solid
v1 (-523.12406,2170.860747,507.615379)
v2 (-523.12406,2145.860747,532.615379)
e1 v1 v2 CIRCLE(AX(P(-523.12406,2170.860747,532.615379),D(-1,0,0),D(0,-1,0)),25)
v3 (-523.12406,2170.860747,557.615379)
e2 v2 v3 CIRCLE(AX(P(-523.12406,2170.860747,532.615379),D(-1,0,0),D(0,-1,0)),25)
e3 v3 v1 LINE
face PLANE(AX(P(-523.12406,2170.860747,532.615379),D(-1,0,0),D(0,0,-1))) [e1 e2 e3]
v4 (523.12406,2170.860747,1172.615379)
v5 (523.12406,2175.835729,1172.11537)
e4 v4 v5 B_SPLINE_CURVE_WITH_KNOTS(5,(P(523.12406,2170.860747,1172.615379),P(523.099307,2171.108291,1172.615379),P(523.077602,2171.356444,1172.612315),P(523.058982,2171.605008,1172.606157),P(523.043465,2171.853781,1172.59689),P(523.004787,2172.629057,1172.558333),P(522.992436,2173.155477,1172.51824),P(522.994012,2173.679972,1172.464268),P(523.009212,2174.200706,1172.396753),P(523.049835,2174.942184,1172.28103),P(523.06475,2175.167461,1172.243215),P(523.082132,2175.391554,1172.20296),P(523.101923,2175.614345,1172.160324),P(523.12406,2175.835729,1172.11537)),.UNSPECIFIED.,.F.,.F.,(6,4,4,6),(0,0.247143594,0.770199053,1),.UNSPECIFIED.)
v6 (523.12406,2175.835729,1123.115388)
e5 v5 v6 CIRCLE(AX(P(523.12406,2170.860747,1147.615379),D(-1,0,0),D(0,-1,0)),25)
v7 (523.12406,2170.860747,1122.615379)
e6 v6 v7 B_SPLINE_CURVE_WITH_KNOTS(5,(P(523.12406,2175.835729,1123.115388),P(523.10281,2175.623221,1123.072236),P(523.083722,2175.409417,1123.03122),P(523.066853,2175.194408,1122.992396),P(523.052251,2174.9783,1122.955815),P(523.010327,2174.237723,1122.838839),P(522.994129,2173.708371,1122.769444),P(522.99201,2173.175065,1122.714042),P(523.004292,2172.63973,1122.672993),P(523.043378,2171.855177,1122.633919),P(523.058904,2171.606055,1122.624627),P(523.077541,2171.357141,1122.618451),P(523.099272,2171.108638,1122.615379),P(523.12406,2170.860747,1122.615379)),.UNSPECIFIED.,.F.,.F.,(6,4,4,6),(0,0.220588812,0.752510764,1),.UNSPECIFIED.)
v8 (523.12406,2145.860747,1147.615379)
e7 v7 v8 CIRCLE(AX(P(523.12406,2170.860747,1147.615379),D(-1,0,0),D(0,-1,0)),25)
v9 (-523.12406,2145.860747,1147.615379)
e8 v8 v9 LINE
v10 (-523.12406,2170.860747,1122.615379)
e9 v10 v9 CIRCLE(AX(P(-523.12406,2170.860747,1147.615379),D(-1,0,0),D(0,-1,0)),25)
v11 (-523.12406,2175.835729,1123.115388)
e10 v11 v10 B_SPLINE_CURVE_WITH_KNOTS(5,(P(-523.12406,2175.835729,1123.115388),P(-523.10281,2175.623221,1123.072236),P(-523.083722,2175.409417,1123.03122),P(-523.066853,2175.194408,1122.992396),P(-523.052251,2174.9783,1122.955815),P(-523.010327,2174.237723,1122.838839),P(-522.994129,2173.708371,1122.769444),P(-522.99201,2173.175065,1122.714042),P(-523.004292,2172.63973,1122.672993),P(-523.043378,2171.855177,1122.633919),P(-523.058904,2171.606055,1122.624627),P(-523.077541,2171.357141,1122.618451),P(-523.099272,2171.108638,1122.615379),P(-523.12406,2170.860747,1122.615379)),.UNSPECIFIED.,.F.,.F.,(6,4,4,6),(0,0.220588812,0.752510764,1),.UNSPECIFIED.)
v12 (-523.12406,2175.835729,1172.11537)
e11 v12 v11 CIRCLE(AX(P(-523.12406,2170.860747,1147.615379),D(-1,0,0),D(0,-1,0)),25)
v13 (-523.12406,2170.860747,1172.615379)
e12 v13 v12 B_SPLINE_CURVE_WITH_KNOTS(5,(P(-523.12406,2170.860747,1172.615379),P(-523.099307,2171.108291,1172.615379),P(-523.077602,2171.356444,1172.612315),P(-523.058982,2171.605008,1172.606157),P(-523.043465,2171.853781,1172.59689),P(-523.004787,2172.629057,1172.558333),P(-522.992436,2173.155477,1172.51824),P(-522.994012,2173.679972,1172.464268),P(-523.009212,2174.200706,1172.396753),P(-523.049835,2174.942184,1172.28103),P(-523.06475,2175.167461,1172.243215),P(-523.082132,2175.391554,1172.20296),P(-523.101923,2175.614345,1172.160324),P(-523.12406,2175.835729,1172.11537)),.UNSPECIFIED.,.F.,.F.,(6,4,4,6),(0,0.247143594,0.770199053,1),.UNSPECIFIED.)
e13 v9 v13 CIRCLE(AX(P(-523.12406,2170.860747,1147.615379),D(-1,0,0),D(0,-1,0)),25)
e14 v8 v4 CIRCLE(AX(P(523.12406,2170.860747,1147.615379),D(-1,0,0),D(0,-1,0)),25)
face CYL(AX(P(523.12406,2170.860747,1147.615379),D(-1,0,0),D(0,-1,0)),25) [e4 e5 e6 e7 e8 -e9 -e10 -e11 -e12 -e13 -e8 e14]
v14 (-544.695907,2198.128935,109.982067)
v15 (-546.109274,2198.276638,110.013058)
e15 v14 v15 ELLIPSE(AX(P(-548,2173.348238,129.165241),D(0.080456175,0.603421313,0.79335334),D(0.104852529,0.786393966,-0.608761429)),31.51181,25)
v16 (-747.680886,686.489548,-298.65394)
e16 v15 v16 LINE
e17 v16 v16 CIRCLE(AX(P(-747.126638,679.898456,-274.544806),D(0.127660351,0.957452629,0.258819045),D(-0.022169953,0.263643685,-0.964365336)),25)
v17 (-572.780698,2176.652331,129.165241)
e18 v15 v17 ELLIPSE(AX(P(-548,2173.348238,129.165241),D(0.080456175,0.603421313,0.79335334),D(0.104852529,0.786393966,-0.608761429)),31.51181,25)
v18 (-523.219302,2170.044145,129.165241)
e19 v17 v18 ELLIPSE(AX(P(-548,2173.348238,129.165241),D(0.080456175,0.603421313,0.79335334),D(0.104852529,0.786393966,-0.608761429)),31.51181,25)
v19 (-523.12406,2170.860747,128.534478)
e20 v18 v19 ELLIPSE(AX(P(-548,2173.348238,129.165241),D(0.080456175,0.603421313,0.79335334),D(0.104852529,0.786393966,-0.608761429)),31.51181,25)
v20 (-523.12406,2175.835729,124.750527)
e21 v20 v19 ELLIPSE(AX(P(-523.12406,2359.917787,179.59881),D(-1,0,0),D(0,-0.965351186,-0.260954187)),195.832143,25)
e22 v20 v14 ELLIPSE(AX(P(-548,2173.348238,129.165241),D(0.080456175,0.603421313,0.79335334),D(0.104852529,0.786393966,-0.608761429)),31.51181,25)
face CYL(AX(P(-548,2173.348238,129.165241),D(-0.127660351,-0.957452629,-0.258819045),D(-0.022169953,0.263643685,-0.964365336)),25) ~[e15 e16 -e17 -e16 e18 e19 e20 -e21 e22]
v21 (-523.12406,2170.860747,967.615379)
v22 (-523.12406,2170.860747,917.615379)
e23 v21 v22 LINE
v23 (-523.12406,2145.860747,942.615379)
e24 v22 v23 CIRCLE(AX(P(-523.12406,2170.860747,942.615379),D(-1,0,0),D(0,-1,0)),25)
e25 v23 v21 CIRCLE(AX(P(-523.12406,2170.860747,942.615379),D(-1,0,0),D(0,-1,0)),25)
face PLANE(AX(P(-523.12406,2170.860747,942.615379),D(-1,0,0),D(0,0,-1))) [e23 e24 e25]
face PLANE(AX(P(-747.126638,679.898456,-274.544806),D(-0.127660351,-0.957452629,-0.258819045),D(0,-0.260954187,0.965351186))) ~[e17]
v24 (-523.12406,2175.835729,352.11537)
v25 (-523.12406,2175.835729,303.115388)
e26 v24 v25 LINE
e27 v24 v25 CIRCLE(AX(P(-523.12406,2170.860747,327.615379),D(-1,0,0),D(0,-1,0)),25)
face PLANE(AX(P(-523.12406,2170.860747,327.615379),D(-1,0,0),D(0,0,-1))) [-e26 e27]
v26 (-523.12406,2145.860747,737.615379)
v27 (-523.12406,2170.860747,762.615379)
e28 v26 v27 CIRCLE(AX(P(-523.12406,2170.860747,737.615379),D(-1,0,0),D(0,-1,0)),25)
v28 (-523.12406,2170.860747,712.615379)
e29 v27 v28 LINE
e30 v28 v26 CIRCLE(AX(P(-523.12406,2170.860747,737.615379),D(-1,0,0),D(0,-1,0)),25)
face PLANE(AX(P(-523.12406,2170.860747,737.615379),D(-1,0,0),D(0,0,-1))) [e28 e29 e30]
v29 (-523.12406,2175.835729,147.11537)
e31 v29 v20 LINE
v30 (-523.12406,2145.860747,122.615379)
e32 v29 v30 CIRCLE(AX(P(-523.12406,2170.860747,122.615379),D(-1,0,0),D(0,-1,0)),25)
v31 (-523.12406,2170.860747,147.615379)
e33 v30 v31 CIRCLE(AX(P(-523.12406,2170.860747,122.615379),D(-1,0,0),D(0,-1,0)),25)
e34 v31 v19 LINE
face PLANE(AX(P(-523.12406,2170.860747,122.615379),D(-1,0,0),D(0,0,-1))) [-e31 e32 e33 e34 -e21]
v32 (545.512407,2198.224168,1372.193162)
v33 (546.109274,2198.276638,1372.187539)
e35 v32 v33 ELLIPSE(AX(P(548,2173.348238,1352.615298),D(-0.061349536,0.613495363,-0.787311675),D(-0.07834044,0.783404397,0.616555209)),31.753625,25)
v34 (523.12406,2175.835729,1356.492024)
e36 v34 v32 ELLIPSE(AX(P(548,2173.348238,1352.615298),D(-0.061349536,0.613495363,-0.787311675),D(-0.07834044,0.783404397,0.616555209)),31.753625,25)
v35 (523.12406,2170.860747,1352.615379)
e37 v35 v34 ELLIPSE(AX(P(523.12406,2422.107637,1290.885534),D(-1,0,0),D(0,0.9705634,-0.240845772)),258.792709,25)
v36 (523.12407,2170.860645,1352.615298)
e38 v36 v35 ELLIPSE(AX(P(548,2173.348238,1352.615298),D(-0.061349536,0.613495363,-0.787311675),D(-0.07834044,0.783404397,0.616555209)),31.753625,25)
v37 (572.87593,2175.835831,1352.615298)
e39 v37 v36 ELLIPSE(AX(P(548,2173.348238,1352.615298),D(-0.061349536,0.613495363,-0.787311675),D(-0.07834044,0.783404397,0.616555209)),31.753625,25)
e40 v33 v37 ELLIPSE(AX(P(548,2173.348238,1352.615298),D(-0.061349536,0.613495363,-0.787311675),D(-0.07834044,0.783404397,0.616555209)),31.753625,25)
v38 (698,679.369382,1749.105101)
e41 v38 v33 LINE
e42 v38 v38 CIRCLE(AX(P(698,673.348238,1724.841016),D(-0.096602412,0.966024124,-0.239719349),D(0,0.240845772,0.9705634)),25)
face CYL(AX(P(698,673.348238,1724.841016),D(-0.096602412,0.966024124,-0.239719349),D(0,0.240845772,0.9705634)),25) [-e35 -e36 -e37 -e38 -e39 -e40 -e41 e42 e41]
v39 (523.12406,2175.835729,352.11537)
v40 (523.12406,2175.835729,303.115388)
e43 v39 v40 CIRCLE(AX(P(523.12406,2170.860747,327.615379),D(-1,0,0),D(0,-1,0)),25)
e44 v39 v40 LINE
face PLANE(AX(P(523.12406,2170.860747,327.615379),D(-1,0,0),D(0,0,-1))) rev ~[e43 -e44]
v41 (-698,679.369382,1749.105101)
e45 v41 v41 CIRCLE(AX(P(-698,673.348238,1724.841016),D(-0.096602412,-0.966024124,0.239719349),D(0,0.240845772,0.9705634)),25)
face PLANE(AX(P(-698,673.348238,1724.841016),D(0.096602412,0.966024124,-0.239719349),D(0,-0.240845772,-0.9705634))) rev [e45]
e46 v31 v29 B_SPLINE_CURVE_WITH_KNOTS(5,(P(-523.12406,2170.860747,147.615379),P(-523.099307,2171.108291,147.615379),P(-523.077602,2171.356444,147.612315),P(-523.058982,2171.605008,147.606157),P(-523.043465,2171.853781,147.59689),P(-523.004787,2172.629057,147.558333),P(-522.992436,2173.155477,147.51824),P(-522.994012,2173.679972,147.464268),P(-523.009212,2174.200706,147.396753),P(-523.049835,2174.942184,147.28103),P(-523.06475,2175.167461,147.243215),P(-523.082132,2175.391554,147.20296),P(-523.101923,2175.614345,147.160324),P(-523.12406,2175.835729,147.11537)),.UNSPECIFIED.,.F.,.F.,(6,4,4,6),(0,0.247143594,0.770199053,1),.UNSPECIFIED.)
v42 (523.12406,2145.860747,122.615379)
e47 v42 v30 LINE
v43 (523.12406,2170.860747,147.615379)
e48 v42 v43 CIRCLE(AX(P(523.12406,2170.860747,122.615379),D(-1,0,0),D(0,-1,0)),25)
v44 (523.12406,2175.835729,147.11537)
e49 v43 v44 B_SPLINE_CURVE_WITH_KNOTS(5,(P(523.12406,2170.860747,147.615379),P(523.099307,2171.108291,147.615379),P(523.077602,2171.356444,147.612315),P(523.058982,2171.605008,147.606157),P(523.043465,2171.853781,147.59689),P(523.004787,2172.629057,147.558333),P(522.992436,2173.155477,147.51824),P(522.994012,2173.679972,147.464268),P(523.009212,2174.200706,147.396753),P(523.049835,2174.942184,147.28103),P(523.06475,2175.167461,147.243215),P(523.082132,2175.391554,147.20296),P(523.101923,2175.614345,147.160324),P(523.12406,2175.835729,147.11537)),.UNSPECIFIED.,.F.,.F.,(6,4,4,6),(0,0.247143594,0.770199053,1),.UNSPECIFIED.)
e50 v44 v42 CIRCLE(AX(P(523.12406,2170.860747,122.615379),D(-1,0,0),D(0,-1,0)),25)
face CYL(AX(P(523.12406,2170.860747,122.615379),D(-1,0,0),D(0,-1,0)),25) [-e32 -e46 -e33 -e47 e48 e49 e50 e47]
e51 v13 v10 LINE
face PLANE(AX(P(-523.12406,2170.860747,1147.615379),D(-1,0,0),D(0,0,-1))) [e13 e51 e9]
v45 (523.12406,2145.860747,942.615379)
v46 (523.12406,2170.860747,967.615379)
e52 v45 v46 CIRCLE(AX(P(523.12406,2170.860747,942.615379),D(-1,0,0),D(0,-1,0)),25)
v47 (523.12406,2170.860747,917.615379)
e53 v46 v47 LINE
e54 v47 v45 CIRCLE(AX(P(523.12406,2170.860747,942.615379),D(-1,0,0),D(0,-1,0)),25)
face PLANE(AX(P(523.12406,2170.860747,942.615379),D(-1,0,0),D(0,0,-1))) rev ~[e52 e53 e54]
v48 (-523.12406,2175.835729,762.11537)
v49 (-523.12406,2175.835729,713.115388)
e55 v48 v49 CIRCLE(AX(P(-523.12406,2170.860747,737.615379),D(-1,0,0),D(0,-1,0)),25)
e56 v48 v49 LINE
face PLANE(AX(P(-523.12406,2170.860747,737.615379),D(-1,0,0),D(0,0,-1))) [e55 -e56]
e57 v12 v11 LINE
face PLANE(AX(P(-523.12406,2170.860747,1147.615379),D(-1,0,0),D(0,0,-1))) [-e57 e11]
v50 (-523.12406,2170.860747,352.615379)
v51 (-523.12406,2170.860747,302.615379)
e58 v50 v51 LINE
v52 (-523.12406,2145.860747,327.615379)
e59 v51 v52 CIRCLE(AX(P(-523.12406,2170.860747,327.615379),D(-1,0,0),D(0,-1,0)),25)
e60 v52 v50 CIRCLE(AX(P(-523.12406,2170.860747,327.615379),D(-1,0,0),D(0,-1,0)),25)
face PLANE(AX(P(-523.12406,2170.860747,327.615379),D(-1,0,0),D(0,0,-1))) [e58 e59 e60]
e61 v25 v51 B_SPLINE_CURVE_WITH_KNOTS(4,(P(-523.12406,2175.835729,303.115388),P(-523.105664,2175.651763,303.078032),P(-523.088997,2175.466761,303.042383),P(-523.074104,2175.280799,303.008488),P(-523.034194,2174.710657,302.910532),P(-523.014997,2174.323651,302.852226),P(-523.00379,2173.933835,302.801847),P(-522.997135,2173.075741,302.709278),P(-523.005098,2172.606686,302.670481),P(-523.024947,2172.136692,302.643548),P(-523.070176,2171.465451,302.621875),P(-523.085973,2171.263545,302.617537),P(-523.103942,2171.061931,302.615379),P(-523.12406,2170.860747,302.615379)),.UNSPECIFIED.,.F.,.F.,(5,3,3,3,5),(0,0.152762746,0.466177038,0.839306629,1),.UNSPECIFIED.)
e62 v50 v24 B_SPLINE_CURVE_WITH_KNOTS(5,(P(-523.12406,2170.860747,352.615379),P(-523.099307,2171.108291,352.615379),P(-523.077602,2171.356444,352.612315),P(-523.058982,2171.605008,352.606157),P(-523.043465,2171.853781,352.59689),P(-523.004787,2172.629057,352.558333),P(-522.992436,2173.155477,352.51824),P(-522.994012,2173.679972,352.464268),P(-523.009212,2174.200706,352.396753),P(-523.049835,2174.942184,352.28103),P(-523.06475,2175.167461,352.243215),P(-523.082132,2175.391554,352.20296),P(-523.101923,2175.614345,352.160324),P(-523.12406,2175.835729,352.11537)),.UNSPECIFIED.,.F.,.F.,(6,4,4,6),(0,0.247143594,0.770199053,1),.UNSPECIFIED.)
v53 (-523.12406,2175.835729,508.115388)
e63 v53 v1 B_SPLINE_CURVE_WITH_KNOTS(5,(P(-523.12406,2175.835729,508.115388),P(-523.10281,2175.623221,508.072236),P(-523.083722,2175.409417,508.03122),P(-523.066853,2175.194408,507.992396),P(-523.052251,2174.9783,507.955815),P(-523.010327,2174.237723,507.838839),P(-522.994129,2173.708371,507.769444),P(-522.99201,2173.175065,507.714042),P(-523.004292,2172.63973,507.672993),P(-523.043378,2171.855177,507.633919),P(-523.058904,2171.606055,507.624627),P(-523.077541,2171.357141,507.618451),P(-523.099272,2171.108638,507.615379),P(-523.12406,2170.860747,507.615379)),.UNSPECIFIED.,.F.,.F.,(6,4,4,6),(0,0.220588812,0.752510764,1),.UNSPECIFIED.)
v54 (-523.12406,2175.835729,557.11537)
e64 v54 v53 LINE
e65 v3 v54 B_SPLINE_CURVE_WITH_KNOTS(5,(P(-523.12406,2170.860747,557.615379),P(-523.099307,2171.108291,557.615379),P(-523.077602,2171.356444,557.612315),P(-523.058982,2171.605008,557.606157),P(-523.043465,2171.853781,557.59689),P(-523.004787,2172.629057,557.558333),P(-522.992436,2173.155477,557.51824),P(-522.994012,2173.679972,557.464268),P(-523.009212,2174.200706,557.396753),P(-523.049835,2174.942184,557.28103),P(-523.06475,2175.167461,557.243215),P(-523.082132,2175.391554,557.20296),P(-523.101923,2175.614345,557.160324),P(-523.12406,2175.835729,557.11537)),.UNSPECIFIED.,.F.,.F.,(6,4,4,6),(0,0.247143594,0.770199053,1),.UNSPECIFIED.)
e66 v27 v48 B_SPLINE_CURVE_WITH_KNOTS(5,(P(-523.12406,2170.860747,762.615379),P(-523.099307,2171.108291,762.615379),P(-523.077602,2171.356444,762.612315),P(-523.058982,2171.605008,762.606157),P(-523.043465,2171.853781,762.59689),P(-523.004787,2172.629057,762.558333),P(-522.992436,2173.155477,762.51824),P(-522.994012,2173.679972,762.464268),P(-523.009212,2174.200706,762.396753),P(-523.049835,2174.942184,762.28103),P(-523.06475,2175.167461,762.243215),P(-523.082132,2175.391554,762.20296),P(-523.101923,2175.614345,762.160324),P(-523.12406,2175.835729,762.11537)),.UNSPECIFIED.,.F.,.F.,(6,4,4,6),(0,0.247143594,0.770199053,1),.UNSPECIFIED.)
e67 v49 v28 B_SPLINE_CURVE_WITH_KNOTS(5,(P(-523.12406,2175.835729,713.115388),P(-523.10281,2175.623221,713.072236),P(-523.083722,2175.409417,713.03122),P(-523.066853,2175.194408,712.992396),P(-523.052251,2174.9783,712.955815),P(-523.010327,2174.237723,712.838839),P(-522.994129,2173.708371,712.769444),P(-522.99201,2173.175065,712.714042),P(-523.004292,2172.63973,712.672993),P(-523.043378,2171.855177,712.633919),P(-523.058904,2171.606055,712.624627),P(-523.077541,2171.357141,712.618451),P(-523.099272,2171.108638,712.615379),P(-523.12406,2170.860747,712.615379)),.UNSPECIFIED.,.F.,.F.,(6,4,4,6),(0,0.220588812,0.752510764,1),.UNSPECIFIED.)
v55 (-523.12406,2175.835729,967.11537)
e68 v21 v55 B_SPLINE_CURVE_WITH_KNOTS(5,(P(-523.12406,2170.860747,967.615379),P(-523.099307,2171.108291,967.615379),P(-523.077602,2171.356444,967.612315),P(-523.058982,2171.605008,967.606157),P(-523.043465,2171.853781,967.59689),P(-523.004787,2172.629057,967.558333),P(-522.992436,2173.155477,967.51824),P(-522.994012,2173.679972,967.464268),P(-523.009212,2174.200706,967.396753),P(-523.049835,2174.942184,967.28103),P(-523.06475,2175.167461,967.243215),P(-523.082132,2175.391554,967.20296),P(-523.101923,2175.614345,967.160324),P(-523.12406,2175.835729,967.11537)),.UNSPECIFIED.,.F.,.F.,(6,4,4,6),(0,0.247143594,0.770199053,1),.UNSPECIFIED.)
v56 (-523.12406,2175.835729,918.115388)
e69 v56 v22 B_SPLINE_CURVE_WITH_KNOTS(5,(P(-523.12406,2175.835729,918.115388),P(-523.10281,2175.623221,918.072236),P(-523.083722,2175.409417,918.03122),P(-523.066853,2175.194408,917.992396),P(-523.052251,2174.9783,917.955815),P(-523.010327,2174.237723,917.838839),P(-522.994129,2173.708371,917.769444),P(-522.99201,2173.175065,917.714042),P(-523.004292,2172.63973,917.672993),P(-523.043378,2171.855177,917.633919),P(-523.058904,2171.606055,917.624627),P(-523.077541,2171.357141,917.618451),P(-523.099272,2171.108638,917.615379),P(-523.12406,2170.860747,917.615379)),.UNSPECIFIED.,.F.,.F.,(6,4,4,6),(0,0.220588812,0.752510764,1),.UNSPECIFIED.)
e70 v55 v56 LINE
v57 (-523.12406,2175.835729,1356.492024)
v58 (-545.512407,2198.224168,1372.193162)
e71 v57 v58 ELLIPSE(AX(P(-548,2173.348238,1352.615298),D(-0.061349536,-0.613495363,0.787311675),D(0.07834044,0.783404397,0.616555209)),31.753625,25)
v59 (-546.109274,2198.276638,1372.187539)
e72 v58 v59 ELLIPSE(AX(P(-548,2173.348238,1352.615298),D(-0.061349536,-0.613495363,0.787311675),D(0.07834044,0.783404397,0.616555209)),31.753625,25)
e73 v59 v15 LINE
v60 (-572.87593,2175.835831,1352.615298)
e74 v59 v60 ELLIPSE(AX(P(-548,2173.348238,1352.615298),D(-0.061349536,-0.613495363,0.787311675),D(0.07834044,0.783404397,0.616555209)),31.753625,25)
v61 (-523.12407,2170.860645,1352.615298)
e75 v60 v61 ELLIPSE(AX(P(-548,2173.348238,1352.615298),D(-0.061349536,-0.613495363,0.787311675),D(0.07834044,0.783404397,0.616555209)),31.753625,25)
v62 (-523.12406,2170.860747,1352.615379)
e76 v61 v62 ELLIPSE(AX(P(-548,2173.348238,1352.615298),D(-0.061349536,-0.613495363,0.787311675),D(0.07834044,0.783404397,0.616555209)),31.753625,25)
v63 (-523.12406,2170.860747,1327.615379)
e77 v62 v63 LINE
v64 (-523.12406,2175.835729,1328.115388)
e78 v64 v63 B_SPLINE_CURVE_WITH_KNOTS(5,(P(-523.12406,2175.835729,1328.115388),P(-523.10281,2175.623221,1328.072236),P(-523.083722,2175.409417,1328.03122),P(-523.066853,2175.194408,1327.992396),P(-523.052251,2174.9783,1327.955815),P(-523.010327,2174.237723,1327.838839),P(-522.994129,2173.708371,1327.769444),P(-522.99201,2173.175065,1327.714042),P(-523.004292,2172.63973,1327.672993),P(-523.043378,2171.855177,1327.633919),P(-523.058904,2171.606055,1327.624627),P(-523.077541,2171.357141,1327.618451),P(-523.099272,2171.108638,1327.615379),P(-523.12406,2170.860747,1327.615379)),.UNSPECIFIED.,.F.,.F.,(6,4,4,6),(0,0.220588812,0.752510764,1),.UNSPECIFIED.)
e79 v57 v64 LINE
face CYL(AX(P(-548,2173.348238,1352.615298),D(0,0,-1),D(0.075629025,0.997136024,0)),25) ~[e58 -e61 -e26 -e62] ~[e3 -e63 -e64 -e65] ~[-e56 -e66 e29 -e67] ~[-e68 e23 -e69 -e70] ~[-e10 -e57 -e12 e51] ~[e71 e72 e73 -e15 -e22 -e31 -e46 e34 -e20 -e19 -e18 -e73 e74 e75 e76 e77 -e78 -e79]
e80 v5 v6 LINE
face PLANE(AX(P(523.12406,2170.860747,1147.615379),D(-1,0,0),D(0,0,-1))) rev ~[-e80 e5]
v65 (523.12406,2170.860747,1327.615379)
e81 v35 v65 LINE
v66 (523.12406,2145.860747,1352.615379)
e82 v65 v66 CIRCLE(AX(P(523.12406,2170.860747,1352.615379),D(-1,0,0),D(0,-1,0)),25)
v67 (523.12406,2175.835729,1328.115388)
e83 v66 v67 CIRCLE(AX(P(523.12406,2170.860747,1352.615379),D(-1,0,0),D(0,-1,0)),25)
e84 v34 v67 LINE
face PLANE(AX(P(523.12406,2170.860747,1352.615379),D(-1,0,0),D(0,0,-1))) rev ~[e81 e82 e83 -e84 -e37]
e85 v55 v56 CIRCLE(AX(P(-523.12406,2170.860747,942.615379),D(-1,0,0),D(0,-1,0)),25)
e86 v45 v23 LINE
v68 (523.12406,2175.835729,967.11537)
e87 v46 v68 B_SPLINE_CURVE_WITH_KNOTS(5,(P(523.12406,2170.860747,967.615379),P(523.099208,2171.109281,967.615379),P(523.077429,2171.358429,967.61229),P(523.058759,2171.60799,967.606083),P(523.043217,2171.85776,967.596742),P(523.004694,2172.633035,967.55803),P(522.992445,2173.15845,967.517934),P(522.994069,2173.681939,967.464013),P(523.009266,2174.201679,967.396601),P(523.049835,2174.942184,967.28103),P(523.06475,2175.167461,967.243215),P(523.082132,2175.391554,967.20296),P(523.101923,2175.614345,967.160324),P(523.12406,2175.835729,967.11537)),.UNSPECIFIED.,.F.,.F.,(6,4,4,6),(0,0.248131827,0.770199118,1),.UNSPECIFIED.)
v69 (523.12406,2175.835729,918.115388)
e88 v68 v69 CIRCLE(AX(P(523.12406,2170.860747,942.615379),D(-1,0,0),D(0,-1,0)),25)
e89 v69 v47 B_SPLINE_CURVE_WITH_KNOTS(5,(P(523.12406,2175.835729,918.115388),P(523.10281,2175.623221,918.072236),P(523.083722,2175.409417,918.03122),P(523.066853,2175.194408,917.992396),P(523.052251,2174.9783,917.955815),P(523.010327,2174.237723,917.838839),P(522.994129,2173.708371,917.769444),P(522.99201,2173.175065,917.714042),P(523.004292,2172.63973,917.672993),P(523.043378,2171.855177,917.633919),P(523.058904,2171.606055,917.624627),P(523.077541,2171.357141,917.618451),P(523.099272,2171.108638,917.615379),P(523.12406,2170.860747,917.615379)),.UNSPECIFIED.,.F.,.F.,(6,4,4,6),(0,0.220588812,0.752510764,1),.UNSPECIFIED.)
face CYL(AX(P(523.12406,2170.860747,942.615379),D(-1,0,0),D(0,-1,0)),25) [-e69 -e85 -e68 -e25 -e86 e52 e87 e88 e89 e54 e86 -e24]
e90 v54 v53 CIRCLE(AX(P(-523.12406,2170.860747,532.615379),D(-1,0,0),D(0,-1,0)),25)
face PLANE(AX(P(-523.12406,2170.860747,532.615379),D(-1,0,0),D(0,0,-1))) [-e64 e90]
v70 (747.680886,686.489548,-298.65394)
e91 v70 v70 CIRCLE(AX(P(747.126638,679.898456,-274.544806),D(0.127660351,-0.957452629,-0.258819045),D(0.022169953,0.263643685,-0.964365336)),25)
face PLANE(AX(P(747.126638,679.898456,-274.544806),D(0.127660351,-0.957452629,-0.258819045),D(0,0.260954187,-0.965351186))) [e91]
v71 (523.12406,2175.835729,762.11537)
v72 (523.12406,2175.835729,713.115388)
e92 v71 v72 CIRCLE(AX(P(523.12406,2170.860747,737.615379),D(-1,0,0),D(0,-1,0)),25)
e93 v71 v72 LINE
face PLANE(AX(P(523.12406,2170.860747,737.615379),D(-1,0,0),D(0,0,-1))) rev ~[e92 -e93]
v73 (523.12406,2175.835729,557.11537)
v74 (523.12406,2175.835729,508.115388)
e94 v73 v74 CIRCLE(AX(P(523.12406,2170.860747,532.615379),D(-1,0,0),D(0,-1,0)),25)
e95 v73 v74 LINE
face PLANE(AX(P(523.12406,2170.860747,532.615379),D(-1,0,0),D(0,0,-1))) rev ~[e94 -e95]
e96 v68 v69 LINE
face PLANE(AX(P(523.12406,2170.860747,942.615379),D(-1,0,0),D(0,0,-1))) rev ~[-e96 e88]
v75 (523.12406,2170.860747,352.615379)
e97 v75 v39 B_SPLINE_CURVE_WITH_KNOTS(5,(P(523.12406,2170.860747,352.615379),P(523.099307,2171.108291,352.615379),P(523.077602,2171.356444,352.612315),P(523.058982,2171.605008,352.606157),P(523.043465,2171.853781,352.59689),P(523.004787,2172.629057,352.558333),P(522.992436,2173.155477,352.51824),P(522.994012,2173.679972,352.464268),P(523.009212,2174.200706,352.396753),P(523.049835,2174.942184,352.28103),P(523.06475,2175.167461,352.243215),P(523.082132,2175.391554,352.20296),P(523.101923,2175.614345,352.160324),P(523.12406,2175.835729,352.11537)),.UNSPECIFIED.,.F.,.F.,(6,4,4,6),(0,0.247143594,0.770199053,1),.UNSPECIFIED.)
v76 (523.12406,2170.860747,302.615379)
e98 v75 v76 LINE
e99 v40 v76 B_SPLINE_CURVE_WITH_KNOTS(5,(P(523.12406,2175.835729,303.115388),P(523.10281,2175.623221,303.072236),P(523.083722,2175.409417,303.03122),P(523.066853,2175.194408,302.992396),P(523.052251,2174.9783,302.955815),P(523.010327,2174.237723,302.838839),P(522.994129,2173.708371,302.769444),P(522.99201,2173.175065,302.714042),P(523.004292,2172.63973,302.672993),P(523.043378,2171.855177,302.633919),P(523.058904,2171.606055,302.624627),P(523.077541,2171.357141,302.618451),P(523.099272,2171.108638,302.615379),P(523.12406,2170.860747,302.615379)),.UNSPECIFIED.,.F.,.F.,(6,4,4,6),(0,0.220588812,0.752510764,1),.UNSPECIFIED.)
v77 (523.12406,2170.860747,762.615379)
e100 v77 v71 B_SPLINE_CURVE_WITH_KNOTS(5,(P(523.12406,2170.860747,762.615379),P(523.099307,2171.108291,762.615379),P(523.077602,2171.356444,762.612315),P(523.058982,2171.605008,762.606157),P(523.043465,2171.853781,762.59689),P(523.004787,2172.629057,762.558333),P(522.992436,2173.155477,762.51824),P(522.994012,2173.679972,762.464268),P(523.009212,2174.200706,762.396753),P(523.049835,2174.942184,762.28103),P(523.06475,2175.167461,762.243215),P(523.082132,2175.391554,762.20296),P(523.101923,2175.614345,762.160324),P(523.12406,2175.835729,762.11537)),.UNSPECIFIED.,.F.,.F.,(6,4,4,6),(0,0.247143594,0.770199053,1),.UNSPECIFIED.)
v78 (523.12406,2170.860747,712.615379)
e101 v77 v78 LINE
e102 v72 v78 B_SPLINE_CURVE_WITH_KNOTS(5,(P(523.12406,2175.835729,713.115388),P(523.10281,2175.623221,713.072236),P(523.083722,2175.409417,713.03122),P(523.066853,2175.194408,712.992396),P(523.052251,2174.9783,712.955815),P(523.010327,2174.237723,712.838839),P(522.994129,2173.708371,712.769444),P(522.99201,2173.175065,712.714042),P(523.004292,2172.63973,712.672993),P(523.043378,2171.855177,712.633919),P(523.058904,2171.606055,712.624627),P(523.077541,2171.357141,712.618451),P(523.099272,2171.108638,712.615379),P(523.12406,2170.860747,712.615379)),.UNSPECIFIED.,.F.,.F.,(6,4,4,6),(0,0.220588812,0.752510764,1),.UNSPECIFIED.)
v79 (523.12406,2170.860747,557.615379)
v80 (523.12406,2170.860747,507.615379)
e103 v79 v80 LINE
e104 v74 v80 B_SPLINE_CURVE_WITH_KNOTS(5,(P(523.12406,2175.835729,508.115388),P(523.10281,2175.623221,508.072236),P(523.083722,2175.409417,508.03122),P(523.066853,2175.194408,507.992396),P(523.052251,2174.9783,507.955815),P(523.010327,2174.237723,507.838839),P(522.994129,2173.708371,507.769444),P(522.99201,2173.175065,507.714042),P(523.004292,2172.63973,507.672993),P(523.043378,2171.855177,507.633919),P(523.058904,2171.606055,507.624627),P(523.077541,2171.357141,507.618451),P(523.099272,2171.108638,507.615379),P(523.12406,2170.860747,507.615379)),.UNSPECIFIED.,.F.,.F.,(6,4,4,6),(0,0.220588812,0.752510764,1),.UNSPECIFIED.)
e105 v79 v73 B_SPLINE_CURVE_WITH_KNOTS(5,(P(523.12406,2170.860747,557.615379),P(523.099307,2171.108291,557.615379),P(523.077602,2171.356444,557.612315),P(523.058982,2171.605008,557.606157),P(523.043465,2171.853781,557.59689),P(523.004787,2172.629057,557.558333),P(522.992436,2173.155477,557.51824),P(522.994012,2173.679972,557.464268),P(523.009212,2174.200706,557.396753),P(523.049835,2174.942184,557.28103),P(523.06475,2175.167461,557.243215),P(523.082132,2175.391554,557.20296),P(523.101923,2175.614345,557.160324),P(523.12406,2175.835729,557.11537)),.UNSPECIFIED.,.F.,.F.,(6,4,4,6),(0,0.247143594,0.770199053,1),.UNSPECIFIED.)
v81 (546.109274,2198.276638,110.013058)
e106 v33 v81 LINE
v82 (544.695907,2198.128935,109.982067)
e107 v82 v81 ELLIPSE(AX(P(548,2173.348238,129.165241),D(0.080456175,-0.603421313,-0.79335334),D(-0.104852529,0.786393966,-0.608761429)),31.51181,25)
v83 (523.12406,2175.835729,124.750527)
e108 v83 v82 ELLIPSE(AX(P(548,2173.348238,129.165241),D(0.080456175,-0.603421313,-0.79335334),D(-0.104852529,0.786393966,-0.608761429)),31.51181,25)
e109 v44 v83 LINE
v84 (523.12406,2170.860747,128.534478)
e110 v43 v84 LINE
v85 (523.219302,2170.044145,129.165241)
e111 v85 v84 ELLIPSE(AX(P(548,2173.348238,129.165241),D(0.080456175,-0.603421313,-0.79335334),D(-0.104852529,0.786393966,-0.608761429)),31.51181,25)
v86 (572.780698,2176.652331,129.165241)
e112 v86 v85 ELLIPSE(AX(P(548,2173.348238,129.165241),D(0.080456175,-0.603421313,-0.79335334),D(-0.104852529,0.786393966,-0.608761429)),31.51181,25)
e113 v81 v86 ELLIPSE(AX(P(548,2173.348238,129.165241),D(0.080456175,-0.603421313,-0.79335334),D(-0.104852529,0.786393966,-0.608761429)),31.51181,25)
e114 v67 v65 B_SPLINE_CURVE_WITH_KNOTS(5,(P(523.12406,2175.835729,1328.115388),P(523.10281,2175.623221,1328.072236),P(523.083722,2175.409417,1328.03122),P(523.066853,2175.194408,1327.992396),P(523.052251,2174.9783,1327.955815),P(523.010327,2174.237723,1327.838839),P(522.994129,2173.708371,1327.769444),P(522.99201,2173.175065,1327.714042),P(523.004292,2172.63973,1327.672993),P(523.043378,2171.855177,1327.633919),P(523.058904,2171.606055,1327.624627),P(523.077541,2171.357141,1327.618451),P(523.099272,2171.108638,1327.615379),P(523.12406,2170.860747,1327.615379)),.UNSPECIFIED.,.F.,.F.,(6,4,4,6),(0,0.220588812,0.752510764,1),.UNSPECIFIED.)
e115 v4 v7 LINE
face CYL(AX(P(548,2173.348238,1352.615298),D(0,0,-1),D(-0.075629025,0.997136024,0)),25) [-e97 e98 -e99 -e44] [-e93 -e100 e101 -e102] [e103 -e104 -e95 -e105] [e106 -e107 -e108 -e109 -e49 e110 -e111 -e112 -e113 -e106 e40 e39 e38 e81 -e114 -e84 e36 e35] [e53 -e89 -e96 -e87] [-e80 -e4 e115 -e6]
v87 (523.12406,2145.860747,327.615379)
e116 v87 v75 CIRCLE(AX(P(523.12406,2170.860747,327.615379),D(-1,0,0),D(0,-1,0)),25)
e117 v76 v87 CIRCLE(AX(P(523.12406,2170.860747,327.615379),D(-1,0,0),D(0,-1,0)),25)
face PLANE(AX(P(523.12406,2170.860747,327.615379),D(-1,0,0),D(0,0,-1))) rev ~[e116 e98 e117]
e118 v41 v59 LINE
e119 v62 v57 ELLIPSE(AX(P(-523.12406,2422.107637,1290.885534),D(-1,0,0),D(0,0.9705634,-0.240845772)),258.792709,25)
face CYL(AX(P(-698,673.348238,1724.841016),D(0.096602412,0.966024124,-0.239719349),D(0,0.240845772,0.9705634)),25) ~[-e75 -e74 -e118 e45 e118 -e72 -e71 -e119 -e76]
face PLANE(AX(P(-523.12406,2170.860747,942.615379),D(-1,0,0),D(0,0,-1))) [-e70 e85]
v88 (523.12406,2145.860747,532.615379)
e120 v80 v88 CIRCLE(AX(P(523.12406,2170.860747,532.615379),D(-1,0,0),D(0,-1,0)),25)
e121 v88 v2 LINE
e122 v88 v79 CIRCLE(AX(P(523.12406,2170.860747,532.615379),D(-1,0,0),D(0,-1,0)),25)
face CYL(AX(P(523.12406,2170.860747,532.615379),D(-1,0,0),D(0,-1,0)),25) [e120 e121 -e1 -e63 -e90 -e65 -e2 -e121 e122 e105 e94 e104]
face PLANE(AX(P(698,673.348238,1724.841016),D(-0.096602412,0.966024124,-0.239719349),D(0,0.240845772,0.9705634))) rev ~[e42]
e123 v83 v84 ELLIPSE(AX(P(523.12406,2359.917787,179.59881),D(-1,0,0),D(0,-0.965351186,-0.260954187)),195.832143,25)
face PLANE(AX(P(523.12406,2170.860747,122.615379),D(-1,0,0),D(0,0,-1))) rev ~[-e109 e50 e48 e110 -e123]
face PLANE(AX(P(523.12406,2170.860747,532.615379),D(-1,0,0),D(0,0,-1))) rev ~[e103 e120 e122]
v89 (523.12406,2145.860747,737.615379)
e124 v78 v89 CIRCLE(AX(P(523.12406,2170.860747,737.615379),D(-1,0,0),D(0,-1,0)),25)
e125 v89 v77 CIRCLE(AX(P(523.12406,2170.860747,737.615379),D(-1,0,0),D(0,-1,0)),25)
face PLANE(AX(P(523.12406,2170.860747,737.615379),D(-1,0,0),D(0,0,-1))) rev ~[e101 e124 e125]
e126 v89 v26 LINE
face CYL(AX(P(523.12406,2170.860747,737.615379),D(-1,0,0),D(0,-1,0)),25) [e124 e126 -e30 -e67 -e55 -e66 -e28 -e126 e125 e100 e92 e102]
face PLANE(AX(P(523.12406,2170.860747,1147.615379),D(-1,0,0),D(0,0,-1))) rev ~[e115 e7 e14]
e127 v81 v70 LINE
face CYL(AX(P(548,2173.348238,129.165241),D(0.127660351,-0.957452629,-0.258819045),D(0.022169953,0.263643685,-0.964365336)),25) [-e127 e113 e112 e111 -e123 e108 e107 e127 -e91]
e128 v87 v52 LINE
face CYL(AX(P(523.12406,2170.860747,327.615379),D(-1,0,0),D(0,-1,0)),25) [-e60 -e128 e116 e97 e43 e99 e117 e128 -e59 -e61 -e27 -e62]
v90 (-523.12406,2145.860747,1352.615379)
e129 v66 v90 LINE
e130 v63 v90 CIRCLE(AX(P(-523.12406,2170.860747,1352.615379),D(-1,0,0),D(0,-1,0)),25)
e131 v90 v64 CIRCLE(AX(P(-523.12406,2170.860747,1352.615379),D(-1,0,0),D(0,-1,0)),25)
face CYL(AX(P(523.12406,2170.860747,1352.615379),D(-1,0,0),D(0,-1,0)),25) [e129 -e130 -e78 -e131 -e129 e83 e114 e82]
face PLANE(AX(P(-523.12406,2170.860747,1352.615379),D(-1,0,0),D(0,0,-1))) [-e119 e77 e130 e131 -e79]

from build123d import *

# Parameters (mm, degrees)
SWEEP1_PROFILE_R = 25
SWEEP4_PROFILE_R = 25
LPATTERN1_COUNT  = 7
LPATTERN1_PITCH  = 205


with BuildPart() as part:
    # Sweep1: sweep along a curve in space
    with BuildLine() as sweep1_path:
        Line((698, 673.348237879, 1724.841016462), (548, 2173.348237879, 1352.615298417))
        Line((548, 2173.348237879, 1352.615298417), (548, 2173.348237879, 129.165241299))
        Line((548, 2173.348237879, 129.165241299), (747.126637555, 679.898456219, -274.544806265))
    # Sweep1 profile (on start of the path) → Sweep1 (sweep)
    with BuildSketch(Plane(origin=(698, 673.348237879, 1724.841016462), x_dir=(0, 0.24084577238006388, 0.9705634002612351), z_dir=(-0.09660241237961904, 0.9660241237961907, -0.23971934875232764))):
        Circle(SWEEP1_PROFILE_R)
    sweep(path=sweep1_path.line, transition=Transition.RIGHT)


with BuildPart() as body_2:
    # Mirror2: mirrored copy
    add(part.part.mirror(Plane(origin=(0, 0, 0), x_dir=(0, 0, 1), z_dir=(1, 0, 0))))


with BuildPart() as part_1:
    add(part.part)

    add(body_2.part)  # Sweep4 merges body 2
    # Sweep4: sweep along a curve in space
    with BuildLine() as sweep4_path:
        Line((523.124060053, 2170.860746823, 1352.61537863), (-523.124060053, 2170.860746823, 1352.61537863))
    # Sweep4 profile (on start of the path) → Sweep4 (sweep)
    with BuildSketch(Plane(origin=(523.124060053, 2170.860746823, 1352.61537863), x_dir=(0, -1, 0), z_dir=(-1, 0, 0))):
        Circle(SWEEP4_PROFILE_R)
    sweep4 = sweep(path=sweep4_path.line)

    # LPattern1: Sweep4 ×7
    with Locations(*[(0, 0, -i * LPATTERN1_PITCH) for i in range(1, LPATTERN1_COUNT)]):
        add(sweep4)


solid = part_1.part
